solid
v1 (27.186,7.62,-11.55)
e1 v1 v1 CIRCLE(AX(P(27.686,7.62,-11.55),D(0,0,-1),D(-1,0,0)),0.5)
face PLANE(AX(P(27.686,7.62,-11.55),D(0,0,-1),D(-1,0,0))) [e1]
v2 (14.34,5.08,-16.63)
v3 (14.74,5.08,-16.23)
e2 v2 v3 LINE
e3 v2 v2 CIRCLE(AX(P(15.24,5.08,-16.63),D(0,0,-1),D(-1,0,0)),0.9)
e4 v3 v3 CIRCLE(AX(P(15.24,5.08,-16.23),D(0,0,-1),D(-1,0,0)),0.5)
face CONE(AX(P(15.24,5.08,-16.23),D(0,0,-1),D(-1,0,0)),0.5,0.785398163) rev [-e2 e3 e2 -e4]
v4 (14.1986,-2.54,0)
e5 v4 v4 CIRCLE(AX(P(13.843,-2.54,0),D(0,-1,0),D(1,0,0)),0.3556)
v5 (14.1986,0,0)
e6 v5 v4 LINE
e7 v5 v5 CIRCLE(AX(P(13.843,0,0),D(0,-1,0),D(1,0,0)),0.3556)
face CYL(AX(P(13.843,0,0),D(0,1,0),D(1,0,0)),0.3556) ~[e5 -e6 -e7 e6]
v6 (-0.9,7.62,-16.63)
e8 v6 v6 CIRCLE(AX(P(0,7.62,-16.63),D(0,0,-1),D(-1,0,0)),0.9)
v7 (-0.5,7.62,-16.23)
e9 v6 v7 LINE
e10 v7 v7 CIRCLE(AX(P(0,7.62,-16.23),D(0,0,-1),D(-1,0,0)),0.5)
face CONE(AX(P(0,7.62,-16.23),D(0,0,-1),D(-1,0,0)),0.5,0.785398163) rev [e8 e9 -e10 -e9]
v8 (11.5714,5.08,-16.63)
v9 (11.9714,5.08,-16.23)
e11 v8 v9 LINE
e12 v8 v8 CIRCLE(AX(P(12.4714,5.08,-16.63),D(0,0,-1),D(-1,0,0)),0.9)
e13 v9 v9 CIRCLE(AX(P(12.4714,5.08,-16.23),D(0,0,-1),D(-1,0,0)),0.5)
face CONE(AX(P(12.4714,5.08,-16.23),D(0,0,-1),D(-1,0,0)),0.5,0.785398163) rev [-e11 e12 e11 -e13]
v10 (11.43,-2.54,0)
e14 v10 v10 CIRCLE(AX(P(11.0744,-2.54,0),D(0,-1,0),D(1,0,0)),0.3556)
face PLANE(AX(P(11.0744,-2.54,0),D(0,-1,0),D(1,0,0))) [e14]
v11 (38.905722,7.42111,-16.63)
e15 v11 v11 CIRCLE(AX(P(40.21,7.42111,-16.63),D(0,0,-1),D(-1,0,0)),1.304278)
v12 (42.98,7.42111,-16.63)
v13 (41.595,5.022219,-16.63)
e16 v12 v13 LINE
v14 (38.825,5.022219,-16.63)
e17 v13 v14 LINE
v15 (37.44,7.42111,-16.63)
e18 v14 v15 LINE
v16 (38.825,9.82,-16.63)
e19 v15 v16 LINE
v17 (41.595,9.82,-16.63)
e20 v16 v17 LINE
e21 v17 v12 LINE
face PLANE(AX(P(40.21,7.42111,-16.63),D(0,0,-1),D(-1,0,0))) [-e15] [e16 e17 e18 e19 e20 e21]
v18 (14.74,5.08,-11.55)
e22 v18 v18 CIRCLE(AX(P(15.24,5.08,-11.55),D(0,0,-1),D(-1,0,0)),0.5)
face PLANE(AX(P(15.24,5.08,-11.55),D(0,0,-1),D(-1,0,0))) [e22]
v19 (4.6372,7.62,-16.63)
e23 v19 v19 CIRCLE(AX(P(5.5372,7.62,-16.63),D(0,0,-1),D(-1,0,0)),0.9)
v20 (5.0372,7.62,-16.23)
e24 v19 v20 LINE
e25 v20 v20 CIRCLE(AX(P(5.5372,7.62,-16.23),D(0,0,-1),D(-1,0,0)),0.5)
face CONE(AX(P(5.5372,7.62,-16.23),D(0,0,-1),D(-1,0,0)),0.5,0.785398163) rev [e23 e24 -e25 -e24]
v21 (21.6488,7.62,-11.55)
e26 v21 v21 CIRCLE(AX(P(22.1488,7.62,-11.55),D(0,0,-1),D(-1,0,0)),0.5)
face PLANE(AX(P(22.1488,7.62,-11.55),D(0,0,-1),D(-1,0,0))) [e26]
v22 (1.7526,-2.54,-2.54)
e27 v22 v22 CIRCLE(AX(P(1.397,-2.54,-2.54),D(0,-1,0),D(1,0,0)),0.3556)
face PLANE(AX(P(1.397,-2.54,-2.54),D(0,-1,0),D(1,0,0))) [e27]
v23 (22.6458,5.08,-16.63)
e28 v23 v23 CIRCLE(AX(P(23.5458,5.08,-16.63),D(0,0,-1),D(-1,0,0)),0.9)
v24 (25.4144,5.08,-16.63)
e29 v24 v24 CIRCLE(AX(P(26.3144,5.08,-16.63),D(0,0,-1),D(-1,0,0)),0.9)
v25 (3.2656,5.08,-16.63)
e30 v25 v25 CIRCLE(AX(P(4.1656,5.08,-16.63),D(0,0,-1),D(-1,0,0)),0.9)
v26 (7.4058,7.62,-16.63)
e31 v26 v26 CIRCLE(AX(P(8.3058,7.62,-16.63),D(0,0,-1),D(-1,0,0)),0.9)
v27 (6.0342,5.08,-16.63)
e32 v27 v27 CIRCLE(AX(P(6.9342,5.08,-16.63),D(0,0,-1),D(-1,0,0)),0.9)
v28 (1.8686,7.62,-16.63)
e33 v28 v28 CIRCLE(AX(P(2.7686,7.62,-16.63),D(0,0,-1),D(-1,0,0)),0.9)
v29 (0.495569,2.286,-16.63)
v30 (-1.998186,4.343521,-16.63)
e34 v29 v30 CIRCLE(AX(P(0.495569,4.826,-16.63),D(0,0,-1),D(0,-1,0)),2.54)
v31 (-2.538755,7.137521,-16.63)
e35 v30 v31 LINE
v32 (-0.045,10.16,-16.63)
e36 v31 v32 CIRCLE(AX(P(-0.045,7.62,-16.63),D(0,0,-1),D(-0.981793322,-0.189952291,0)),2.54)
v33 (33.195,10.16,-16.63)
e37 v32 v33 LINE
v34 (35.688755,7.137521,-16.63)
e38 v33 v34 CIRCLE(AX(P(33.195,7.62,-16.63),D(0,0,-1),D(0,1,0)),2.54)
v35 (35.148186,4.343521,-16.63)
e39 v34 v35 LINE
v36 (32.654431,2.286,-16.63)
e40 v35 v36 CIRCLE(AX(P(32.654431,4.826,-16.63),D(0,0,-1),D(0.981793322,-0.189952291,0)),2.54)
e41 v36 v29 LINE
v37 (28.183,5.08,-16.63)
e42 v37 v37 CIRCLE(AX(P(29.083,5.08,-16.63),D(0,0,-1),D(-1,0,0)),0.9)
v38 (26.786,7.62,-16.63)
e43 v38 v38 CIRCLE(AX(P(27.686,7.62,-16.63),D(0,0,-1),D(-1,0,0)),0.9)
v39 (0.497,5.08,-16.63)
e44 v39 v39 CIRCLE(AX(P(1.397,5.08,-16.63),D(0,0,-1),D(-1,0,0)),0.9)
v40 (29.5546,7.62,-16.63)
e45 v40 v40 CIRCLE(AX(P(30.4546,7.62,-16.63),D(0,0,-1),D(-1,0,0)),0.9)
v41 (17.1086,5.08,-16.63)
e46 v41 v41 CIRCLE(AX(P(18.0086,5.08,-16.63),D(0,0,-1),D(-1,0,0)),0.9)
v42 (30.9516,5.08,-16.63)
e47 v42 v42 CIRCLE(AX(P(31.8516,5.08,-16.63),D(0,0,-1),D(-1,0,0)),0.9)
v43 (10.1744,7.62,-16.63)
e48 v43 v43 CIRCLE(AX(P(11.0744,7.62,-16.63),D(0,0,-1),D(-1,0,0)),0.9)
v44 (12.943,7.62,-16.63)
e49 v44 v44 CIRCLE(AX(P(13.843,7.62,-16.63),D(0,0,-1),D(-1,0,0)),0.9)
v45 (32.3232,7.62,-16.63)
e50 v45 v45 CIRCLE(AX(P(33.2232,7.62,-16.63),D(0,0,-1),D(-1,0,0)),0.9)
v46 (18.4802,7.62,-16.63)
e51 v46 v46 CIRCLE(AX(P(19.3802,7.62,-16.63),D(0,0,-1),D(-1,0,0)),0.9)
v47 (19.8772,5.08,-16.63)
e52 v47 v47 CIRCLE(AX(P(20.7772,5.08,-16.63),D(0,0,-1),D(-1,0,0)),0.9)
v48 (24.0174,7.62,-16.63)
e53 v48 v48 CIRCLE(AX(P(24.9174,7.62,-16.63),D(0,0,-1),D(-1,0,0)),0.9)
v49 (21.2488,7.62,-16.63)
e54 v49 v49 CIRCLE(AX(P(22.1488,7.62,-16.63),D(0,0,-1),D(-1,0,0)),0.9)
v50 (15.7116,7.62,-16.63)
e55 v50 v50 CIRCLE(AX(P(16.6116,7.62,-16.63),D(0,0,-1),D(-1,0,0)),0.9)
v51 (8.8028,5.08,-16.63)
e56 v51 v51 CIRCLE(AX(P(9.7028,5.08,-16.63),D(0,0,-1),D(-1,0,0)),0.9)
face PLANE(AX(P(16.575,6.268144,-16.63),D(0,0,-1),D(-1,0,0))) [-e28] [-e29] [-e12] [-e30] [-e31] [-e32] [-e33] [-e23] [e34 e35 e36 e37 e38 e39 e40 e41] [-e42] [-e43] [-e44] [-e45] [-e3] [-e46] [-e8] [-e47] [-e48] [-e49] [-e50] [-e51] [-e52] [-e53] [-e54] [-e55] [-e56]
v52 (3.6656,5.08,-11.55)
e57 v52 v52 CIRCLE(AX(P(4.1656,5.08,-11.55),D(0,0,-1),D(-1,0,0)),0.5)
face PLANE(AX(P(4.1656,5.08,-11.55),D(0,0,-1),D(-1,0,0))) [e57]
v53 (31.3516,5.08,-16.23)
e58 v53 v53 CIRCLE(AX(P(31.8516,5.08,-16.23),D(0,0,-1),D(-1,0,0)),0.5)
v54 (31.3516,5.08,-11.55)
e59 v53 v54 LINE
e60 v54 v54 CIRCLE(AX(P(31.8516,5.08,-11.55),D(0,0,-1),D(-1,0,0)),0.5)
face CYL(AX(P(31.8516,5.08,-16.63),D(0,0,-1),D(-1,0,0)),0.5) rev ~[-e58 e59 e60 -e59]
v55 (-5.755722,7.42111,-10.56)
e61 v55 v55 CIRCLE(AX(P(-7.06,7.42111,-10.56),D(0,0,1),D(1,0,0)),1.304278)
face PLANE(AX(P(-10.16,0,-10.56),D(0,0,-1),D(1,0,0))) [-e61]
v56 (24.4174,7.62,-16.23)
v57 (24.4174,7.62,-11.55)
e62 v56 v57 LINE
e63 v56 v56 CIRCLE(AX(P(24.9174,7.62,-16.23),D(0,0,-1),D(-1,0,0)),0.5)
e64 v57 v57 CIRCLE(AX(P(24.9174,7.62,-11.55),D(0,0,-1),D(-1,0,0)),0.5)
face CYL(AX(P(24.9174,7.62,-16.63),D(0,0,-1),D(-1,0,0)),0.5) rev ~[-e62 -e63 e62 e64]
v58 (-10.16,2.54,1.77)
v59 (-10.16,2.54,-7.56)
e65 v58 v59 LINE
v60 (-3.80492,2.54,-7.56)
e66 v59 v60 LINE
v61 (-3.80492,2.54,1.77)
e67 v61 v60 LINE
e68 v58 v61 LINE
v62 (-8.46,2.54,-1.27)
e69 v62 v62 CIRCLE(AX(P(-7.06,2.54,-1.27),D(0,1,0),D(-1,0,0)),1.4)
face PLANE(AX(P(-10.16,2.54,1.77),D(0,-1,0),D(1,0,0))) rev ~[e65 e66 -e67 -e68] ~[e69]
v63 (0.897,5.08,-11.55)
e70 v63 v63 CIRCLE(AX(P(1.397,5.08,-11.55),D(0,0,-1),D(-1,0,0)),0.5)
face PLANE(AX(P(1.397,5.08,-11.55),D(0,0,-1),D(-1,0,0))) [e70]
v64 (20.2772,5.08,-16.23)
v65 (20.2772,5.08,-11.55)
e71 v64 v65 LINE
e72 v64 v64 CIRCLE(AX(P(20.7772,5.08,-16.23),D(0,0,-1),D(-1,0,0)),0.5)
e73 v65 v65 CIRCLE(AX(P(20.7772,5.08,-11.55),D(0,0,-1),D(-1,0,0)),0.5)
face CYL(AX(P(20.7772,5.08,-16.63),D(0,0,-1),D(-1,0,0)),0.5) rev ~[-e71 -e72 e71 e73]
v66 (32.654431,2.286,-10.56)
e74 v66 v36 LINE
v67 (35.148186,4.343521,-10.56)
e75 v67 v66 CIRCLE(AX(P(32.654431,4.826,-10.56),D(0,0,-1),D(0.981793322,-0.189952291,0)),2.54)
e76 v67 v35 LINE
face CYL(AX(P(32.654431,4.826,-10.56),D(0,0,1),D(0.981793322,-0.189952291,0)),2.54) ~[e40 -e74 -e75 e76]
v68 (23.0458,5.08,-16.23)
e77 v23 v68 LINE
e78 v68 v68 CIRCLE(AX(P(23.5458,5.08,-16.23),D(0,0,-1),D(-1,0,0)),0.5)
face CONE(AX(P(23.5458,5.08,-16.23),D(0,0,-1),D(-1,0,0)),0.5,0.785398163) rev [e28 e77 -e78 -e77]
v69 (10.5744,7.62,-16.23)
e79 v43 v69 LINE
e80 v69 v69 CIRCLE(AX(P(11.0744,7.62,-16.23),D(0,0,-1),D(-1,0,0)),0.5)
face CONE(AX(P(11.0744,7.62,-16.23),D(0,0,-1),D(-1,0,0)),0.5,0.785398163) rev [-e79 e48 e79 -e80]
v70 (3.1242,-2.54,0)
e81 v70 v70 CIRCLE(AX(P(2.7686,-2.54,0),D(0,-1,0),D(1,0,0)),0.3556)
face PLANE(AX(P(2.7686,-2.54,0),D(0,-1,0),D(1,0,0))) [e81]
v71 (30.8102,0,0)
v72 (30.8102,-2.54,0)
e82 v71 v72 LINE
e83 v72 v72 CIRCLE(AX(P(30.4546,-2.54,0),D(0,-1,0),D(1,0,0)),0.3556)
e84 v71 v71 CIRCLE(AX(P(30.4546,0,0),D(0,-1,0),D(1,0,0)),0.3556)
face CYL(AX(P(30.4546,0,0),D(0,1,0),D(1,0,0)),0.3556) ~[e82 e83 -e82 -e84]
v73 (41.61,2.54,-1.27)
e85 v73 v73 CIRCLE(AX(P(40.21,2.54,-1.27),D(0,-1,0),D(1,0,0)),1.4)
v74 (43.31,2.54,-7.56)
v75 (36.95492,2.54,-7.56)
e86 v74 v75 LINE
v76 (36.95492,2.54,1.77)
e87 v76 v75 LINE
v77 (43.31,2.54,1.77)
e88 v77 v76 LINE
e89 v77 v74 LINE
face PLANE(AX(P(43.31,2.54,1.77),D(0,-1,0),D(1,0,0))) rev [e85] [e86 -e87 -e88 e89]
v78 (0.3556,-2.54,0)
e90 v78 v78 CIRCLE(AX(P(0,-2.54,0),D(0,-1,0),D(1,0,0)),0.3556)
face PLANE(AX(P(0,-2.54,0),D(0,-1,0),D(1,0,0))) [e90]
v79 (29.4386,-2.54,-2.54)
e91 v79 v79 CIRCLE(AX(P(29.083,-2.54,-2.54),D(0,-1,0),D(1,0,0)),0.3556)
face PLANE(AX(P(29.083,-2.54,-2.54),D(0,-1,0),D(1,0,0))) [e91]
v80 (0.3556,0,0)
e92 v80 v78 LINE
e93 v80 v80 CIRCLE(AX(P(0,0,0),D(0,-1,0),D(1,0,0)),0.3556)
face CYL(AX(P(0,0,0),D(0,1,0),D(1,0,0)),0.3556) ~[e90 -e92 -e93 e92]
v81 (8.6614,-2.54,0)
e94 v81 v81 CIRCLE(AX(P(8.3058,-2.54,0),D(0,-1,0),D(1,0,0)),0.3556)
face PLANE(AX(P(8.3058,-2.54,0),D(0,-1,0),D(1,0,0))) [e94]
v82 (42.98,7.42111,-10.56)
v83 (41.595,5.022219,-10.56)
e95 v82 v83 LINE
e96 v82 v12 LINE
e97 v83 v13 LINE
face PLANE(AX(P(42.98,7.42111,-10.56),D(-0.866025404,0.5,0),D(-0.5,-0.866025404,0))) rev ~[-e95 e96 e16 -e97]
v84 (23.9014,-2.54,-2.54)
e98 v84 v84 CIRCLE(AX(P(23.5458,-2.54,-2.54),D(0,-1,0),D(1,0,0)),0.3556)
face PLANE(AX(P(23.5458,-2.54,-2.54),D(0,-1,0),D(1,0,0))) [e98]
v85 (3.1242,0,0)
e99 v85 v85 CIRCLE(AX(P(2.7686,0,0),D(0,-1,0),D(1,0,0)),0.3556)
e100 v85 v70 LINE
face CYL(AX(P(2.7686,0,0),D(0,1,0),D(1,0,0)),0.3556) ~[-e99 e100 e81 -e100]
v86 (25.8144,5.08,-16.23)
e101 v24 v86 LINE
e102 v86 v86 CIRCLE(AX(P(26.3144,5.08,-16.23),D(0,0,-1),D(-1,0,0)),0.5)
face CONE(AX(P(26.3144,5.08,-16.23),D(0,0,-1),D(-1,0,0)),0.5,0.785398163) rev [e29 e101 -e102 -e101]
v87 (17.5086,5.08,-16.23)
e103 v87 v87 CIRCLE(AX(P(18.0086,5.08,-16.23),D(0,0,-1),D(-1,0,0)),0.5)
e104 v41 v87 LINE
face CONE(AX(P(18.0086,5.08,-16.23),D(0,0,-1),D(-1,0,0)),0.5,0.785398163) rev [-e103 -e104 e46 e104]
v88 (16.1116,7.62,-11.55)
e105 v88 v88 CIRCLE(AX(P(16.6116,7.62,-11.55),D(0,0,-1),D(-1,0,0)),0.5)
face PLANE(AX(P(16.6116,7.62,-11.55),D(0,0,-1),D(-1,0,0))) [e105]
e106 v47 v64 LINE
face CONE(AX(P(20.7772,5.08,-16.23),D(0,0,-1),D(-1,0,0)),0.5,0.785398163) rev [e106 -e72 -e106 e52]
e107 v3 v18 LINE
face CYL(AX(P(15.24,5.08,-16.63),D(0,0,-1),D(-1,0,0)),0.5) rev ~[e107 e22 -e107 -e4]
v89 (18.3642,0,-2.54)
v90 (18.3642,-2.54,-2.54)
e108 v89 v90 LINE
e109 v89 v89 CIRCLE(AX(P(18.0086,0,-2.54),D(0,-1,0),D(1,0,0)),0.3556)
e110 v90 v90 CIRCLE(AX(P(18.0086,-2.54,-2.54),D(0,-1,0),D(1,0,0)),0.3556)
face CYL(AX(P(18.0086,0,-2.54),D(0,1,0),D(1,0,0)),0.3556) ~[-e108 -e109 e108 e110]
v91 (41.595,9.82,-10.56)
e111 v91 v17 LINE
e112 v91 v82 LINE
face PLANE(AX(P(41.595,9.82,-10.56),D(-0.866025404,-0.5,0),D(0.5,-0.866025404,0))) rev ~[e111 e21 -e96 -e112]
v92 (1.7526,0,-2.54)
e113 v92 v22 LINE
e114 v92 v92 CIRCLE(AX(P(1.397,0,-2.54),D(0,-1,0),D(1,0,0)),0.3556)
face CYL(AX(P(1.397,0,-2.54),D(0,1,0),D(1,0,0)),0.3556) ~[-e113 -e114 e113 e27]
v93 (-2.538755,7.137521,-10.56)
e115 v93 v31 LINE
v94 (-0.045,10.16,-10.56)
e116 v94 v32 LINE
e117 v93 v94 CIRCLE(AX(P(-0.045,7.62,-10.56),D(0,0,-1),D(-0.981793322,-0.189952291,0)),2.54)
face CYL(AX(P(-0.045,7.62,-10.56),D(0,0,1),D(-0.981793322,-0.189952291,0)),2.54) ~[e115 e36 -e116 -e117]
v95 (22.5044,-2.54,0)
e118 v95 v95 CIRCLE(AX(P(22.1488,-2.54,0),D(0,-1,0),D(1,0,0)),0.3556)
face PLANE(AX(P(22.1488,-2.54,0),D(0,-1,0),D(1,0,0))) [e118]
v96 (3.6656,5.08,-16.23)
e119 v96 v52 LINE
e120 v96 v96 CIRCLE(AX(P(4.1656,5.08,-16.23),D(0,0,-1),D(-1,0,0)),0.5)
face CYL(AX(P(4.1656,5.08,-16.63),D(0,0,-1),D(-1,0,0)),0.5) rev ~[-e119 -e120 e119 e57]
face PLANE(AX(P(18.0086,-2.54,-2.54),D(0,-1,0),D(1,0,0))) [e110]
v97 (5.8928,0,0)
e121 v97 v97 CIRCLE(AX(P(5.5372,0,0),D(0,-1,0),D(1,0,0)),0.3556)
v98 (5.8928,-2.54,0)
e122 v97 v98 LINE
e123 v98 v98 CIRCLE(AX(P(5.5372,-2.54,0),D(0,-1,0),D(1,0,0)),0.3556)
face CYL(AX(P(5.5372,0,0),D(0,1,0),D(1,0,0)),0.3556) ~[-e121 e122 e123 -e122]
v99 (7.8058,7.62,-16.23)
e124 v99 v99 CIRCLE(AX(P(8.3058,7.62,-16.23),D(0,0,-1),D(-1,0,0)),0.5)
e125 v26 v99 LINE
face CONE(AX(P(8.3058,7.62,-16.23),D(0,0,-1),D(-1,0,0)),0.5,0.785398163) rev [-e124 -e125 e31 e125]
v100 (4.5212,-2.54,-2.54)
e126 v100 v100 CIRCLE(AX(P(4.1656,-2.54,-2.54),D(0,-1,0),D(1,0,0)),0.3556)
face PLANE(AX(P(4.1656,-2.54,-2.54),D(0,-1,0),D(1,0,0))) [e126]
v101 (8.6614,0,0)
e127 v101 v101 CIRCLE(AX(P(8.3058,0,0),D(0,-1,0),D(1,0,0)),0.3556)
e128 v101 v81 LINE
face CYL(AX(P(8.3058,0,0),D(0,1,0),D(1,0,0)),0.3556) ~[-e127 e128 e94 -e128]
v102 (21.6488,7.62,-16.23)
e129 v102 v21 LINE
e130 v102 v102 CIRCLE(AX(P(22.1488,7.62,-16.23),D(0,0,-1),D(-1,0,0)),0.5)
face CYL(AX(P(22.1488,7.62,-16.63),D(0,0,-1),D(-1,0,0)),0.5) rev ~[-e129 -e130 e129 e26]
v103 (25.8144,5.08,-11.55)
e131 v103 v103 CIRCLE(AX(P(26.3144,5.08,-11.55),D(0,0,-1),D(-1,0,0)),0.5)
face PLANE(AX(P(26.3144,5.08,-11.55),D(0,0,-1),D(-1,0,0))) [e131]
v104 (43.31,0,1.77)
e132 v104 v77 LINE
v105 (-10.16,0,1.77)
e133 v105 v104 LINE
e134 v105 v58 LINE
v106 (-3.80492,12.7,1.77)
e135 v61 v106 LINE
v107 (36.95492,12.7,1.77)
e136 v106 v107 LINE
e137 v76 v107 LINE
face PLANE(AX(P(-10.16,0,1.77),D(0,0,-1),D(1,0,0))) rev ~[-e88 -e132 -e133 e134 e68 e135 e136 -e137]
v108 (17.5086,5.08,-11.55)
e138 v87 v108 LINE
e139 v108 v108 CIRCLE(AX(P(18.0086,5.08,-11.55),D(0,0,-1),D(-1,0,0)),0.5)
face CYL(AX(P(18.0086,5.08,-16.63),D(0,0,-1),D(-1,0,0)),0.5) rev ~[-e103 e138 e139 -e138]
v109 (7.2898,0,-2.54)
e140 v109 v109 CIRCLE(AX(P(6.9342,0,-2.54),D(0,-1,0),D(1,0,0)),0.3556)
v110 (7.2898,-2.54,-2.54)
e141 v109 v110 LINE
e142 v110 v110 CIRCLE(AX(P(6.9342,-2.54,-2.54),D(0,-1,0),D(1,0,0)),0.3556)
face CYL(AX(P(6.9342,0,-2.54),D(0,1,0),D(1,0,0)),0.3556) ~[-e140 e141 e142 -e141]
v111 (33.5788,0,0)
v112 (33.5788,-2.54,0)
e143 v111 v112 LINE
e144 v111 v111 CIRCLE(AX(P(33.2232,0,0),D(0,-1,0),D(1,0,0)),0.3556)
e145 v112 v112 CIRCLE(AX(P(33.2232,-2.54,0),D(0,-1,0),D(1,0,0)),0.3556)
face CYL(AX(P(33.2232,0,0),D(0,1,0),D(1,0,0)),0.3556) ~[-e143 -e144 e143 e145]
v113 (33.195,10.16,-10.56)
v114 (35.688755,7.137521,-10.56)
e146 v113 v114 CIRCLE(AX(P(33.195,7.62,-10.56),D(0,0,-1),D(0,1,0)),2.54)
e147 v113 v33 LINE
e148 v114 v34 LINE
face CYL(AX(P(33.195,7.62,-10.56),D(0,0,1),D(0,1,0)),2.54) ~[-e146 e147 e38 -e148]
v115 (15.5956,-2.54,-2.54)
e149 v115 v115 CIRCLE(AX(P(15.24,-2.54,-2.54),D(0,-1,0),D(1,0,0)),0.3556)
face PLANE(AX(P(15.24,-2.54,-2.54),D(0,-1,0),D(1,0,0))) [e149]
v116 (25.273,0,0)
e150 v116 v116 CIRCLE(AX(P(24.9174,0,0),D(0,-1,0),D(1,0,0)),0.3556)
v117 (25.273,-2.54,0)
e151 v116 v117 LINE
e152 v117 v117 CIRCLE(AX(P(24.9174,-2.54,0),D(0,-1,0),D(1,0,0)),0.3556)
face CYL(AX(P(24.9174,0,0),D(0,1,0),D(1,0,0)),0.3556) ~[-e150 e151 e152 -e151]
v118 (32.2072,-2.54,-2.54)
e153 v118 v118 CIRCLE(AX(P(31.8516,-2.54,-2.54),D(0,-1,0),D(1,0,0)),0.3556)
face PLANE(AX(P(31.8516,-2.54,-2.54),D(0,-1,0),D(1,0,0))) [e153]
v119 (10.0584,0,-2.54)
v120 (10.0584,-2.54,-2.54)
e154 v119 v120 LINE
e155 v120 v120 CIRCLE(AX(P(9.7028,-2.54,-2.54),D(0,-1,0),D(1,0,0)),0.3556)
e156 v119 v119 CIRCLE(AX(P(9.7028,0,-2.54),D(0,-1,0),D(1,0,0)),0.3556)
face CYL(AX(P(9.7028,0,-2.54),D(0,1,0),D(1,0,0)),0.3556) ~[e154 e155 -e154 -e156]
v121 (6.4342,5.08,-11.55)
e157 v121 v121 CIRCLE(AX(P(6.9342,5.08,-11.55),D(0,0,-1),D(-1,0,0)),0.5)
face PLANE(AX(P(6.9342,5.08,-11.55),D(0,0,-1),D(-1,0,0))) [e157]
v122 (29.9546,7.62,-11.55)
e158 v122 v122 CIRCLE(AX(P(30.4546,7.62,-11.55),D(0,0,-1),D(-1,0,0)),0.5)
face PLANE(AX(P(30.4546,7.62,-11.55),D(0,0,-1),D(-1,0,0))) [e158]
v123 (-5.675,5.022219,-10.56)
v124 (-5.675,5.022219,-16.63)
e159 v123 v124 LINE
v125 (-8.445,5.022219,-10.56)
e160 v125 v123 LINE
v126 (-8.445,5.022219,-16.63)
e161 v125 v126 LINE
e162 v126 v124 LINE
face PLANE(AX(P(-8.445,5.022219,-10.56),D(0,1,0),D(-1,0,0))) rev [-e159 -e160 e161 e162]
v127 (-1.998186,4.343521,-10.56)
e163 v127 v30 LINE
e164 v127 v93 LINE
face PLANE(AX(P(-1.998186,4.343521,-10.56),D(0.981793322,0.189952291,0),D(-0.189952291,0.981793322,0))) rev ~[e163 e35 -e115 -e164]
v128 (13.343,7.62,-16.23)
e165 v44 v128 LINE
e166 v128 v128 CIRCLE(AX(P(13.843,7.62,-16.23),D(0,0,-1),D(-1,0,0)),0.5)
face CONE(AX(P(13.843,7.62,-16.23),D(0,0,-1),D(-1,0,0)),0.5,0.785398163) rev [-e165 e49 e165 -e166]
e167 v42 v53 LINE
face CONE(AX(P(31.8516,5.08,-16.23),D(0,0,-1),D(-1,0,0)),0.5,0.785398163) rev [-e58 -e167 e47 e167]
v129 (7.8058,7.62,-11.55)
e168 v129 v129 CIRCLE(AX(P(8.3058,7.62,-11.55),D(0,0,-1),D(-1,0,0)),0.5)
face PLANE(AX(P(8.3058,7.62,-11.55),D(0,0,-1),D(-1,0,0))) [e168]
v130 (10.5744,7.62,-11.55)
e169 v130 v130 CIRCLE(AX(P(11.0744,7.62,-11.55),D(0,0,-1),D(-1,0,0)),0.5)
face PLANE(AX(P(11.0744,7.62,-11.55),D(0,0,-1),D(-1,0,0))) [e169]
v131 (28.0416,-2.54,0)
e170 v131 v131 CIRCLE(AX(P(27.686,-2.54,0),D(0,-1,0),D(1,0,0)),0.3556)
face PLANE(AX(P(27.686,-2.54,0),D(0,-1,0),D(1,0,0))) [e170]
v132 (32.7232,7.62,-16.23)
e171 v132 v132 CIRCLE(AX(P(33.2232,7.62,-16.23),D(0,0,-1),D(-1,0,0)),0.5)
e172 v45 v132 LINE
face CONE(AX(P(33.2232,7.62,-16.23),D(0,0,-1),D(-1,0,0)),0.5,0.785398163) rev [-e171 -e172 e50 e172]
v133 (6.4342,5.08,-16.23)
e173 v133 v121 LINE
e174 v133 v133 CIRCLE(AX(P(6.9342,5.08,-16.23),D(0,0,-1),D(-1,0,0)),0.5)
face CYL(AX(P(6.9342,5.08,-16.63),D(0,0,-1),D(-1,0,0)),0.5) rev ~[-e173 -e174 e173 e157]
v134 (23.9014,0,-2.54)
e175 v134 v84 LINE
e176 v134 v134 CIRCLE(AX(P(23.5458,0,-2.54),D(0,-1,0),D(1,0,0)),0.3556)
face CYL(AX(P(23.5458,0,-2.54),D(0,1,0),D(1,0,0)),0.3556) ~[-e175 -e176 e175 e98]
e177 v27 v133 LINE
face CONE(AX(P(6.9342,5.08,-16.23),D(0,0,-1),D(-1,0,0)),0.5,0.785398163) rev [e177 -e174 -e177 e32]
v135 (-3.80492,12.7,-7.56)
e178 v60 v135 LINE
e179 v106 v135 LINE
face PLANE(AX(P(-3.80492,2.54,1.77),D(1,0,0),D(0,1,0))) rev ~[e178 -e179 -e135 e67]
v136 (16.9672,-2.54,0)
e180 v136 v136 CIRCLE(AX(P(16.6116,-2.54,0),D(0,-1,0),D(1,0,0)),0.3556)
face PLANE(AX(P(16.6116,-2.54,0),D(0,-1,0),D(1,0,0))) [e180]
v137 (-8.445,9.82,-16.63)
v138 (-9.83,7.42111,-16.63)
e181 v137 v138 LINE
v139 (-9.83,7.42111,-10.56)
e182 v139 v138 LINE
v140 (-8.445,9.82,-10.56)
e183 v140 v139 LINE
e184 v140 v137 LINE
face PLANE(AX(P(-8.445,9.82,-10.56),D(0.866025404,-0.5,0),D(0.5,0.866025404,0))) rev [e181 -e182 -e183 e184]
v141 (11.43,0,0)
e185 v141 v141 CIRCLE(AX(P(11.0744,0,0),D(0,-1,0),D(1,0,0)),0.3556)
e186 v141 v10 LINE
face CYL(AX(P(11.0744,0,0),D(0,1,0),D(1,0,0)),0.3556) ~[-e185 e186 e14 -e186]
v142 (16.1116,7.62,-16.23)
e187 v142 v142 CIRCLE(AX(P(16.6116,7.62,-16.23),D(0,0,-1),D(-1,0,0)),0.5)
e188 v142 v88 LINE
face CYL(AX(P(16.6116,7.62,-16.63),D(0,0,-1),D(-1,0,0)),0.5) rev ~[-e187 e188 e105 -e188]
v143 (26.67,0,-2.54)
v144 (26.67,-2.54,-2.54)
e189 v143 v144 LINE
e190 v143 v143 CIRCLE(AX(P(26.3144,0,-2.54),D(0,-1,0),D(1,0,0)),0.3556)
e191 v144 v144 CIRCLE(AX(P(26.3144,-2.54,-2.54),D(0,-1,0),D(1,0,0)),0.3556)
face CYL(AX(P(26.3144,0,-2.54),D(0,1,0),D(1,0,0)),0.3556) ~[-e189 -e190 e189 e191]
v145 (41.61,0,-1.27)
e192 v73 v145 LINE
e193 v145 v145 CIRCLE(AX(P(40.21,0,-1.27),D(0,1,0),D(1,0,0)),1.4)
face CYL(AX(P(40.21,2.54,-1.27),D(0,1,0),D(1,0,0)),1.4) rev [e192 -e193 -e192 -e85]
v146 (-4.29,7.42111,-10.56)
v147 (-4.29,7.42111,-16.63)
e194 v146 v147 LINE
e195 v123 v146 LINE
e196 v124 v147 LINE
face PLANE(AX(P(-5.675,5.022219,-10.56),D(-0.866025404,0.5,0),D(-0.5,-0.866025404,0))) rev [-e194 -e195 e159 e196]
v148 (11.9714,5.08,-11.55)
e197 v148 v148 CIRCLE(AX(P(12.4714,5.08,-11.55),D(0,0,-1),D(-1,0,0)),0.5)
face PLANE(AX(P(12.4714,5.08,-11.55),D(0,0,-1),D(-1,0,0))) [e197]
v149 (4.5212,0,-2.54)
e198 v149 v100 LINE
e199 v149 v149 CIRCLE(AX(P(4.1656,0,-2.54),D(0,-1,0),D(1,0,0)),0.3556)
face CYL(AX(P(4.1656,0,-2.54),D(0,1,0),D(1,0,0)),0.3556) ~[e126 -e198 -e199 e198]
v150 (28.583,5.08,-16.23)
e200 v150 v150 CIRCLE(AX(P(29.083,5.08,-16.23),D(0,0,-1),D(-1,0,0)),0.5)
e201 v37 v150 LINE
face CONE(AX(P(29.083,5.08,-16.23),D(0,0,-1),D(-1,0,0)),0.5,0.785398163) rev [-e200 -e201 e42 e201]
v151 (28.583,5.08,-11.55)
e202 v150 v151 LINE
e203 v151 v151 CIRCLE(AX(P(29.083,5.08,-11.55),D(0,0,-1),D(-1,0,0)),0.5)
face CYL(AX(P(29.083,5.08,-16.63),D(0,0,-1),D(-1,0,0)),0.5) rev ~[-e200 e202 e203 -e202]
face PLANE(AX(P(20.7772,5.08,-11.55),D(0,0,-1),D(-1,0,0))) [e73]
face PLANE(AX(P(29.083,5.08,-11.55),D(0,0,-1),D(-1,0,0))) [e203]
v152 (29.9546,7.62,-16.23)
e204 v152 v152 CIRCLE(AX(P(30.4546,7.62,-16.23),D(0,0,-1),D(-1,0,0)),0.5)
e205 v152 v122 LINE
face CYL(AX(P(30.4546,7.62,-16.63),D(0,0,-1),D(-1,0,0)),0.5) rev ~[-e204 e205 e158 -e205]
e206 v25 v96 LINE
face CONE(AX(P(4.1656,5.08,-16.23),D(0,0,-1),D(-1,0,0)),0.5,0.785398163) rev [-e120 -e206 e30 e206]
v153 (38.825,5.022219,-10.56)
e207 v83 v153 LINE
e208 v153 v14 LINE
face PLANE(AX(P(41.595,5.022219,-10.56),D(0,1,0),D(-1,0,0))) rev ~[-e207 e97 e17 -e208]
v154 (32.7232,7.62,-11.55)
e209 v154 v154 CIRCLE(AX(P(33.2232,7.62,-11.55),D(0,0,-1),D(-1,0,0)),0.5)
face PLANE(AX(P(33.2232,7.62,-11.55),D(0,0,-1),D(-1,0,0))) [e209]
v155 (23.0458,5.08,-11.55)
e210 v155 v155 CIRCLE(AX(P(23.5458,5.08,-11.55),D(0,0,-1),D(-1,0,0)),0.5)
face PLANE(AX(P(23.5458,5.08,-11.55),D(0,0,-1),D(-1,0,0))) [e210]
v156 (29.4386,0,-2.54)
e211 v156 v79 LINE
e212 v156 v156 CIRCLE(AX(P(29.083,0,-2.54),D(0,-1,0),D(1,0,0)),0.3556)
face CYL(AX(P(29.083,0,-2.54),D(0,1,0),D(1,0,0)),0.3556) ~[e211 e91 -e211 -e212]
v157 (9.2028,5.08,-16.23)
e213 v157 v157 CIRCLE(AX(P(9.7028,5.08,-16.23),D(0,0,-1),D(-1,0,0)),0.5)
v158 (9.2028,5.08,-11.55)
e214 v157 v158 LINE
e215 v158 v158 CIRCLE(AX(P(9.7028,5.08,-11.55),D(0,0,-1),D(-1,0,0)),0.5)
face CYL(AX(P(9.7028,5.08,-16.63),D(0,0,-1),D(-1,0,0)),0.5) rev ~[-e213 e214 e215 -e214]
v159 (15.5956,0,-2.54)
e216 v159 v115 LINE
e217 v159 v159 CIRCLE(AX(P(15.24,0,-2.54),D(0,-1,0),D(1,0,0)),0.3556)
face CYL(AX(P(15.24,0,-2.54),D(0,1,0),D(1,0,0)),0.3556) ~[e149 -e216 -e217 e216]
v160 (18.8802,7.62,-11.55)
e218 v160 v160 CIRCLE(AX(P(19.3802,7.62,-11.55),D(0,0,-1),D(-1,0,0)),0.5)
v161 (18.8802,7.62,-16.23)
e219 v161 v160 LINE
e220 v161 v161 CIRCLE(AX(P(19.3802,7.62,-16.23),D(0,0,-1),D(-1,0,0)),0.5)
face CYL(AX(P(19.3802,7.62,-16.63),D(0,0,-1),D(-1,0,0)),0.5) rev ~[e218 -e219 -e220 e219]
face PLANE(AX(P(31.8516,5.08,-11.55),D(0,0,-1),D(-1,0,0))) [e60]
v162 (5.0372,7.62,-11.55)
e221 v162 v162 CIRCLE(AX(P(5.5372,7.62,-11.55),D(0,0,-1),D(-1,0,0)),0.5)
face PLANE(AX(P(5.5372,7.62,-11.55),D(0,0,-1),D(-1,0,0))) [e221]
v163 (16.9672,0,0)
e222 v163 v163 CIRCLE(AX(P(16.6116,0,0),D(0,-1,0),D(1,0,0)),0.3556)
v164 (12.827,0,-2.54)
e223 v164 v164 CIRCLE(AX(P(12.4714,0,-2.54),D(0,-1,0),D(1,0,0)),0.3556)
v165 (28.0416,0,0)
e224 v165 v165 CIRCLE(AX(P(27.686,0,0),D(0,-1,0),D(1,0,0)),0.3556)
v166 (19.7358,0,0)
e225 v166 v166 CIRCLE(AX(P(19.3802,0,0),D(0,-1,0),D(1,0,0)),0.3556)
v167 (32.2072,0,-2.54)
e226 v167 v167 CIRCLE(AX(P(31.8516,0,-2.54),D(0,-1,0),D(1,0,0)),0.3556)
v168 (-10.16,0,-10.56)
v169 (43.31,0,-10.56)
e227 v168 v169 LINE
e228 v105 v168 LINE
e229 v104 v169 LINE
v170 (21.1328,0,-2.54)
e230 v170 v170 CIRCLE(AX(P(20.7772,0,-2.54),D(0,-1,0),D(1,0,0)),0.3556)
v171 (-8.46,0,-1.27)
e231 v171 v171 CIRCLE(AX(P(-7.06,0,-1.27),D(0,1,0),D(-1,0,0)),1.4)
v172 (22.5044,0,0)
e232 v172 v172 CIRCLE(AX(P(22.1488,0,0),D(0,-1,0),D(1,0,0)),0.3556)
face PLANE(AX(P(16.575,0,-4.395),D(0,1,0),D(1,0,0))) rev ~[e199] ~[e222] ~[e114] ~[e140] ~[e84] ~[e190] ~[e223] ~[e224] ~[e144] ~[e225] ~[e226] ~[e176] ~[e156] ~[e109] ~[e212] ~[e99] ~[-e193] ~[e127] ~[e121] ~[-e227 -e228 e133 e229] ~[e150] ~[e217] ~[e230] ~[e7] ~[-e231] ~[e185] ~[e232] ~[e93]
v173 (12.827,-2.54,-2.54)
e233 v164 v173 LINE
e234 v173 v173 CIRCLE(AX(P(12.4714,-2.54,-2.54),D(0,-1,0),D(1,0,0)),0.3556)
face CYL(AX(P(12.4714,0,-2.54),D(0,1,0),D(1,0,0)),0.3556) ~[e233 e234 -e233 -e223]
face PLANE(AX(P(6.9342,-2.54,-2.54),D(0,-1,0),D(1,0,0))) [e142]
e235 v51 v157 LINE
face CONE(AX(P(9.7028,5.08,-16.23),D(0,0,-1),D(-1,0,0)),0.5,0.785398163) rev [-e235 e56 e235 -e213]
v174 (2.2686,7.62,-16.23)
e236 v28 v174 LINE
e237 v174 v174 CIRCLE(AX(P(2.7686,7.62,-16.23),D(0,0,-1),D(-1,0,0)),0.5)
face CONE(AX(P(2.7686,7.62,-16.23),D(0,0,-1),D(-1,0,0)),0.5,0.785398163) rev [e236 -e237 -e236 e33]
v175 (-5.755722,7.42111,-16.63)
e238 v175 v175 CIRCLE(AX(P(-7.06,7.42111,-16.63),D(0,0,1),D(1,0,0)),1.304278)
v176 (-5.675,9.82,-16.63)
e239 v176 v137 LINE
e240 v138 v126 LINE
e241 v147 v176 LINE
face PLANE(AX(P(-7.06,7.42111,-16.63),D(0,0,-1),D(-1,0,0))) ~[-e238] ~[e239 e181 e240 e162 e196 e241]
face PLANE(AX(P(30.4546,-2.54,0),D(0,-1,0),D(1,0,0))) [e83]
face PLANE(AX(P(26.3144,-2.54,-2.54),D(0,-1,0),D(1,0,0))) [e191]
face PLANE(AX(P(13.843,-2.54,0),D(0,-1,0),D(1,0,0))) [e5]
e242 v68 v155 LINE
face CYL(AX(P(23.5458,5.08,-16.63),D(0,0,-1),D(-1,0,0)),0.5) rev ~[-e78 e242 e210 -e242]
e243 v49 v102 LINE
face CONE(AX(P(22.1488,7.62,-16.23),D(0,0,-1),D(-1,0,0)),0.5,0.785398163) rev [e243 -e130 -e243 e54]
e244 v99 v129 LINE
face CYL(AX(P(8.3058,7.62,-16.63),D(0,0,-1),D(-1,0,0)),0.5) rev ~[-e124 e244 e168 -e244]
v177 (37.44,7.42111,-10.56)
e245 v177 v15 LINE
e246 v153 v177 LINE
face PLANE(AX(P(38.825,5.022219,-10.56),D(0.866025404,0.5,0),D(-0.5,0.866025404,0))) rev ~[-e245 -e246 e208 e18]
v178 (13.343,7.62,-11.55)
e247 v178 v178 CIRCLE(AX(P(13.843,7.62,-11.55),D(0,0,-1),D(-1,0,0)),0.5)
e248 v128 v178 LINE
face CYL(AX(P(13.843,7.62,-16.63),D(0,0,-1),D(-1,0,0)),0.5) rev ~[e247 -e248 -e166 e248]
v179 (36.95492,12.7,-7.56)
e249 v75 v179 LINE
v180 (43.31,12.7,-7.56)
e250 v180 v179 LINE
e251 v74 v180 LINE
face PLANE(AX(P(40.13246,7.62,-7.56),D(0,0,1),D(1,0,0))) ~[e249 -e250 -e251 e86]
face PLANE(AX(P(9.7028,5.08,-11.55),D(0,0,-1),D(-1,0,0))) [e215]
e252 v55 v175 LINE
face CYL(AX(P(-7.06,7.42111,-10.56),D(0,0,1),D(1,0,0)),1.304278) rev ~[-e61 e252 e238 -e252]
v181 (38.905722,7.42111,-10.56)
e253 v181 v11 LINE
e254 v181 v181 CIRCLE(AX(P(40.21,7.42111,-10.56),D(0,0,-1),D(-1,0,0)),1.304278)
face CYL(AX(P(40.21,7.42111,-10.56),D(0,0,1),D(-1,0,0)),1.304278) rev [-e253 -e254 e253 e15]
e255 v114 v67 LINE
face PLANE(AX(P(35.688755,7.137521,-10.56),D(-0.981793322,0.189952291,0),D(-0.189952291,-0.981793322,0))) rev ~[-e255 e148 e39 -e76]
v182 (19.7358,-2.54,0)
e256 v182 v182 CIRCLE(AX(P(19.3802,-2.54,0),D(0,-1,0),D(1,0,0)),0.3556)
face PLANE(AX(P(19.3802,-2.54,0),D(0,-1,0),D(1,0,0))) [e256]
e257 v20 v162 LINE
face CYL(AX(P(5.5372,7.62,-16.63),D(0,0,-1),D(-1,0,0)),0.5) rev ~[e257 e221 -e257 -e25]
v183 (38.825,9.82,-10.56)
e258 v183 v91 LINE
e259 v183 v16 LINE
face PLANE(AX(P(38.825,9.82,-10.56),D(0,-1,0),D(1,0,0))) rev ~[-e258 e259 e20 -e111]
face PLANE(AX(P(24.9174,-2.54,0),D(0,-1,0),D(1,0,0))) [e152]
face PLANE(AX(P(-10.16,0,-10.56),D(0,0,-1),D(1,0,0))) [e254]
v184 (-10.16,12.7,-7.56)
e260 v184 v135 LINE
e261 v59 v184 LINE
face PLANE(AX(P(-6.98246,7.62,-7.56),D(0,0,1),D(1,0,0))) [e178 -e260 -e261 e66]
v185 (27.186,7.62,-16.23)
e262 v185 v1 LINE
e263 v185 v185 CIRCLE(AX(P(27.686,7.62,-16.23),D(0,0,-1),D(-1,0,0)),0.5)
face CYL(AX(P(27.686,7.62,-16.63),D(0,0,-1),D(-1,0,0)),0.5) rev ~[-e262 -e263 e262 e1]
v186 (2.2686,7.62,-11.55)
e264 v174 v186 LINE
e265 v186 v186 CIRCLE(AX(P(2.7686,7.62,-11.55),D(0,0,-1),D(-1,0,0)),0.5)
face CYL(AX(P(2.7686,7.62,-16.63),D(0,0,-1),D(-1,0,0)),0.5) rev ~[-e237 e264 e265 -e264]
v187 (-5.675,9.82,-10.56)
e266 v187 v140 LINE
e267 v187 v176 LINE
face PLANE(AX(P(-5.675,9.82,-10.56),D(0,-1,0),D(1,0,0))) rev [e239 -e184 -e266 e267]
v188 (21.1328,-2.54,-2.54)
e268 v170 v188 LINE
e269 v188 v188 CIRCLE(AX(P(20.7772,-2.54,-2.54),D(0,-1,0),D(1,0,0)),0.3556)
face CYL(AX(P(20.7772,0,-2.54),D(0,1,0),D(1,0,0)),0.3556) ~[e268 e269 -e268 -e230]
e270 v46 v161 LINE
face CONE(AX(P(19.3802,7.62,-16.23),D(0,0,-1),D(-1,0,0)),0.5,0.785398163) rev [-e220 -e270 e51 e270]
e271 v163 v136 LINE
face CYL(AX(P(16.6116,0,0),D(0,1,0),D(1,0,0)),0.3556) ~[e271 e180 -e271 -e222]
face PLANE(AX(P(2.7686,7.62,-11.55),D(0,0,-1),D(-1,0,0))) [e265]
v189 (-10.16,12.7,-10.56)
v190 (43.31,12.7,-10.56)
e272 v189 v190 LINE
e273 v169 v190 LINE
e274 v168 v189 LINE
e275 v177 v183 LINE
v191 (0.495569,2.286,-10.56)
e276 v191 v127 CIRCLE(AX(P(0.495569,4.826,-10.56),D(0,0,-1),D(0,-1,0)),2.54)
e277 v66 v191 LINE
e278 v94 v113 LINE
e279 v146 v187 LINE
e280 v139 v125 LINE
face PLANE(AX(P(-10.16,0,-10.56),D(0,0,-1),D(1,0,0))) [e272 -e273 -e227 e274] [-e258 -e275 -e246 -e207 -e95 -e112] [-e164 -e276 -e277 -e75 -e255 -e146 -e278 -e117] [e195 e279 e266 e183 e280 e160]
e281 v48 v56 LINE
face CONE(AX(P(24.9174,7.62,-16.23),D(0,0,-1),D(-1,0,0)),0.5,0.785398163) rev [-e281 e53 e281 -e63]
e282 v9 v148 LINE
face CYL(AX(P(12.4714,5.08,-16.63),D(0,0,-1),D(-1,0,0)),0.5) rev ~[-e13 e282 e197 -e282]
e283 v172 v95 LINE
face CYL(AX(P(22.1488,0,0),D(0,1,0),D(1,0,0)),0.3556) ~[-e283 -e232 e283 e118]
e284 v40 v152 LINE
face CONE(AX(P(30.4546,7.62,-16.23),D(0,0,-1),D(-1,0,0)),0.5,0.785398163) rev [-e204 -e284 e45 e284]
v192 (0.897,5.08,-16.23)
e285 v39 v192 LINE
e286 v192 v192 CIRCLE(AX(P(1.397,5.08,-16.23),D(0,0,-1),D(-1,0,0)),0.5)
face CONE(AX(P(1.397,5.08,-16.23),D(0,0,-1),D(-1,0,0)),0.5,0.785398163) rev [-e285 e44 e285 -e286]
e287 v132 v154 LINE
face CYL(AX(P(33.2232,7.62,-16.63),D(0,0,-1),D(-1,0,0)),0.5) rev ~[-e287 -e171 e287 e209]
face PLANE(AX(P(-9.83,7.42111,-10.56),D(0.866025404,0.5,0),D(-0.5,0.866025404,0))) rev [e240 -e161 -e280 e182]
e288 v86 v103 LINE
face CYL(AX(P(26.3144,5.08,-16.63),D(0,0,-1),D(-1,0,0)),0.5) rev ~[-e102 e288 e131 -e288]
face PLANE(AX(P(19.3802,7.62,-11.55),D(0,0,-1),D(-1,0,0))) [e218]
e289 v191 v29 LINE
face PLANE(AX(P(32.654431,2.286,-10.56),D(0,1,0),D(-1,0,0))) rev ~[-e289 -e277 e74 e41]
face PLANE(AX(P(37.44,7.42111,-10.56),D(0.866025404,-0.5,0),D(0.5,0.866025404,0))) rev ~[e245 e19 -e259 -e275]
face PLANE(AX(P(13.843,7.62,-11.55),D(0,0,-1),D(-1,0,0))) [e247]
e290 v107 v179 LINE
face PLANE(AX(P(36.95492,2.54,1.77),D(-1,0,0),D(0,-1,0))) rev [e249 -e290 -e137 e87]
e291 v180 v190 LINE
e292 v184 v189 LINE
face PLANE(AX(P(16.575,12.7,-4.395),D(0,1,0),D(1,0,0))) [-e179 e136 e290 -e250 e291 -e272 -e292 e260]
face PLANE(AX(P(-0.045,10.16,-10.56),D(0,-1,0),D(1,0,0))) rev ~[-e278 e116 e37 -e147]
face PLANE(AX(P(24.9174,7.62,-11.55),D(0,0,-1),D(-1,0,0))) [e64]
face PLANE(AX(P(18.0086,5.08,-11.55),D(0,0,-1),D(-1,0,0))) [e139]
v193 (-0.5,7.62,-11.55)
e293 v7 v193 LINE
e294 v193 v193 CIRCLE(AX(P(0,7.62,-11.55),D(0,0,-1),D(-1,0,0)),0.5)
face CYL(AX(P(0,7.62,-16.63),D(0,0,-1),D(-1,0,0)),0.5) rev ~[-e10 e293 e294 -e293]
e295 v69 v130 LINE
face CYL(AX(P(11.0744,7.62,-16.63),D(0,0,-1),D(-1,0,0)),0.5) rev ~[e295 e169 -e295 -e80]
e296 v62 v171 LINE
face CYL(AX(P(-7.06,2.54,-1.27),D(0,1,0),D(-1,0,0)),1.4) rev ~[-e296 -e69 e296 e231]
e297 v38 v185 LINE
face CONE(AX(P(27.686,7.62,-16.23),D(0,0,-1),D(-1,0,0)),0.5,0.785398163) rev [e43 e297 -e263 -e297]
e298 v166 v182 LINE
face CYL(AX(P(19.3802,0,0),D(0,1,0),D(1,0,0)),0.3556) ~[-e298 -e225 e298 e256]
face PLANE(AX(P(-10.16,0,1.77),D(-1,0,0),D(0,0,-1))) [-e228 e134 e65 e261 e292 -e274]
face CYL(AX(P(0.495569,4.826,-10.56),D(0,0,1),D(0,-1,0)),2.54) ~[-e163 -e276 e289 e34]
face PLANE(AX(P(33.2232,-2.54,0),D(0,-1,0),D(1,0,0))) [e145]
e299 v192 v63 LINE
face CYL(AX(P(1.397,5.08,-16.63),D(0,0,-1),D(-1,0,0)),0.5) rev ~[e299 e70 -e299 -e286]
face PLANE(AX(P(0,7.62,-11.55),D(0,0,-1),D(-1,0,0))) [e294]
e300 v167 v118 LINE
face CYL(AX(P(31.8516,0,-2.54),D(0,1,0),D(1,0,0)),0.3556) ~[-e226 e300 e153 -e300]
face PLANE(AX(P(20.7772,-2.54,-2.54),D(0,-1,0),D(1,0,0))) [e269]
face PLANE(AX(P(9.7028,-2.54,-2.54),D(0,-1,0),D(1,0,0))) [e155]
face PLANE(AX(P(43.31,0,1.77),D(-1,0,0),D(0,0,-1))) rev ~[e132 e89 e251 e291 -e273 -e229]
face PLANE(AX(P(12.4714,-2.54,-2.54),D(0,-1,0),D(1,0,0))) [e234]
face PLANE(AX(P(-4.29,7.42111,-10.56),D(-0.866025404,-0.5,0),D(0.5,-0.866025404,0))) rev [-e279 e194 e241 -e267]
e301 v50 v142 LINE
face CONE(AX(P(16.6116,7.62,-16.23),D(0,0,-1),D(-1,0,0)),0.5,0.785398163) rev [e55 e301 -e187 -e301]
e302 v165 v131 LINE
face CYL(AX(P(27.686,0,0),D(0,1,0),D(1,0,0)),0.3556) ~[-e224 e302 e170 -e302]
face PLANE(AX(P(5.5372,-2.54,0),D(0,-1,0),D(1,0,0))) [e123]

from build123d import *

# Parameters (mm, degrees)
SKETCH1_W           = 53.47
SKETCH1_H           = 12.33
BASE_EXTRUDE_DEPTH  = 12.7
BOSS_EXTRUDE1_DEPTH = 6.07
SKETCH4_R           = 0.5
CUT_EXTRUDE1_DEPTH  = 5.08
SKETCH5_R           = 0.5
CUT_EXTRUDE2_DEPTH  = 5.08
SKETCH6_R           = 0.3556
BOSS_EXTRUDE2_DEPTH = 2.54
LPATTERN1_COUNT     = 13
LPATTERN1_PITCH     = 2.7686
LPATTERN2_COUNT     = 13
LPATTERN2_PITCH     = 2.7686
LPATTERN3_COUNT     = 12
LPATTERN3_PITCH     = 2.7686
SKETCH7_R           = 0.3556
BOSS_EXTRUDE3_DEPTH = 2.54
LPATTERN4_COUNT     = 12
LPATTERN4_PITCH     = 2.7686
SKETCH12_R          = 1.304277921
BOSS_EXTRUDE4_DEPTH = 6.07
SKETCH9_W           = 6.35508
SKETCH9_H           = 10.16
CUT_EXTRUDE3_DEPTH  = 9.33
SKETCH11_R          = 1.4
CUT_EXTRUDE4_DEPTH  = 6.08
CHAMFER1_SIZE       = 0.4


with BuildPart() as part:
    # Sketch1 → Base-Extrude (new body)
    with BuildSketch(Plane(origin=(0, 0, 0), x_dir=(1, 0, 0), z_dir=(0, 1, 0))):
        with Locations((16.575, 4.395)):
            Rectangle(SKETCH1_W, SKETCH1_H)
    extrude(amount=BASE_EXTRUDE_DEPTH)

    # Sketch2 → Boss-Extrude1 (add)
    with BuildSketch(Plane(origin=(0, 0, -10.56), x_dir=(-1, 0, 0), z_dir=(0, 0, -1))):
        with BuildLine():
            Line((-32.654431338, 2.286), (-0.495568662, 2.286))
            ThreePointArc((-0.495568662, 2.286), (1.120925043, 2.8667787), (1.998186376, 4.34352118))
            Line((1.998186376, 4.34352118), (2.538755038, 7.13752118))
            ThreePointArc((2.538755038, 7.13752118), (2.0042213, 9.236493705), (0.045, 10.16))
            Line((0.045, 10.16), (-33.195, 10.16))
            ThreePointArc((-33.195, 10.16), (-35.1542213, 9.236493705), (-35.688755038, 7.13752118))
            Line((-35.688755038, 7.13752118), (-35.148186376, 4.34352118))
            ThreePointArc((-35.148186376, 4.34352118), (-34.270925043, 2.8667787), (-32.654431338, 2.286))
        make_face()
    extrude(amount=BOSS_EXTRUDE1_DEPTH)

    # Sketch4 → Cut-Extrude1 (cut)
    with BuildSketch(Plane(origin=(0, 0, -16.63), x_dir=(-1, 0, 0), z_dir=(0, 0, -1))):
        with Locations((0, 7.62)):
            Circle(SKETCH4_R)
    cut_extrude1 = extrude(amount=-CUT_EXTRUDE1_DEPTH, mode=Mode.SUBTRACT)

    # Sketch5 → Cut-Extrude2 (cut)
    with BuildSketch(Plane(origin=(0, 0, -16.63), x_dir=(-1, 0, 0), z_dir=(0, 0, -1))):
        with Locations((-1.397, 5.08)):
            Circle(SKETCH5_R)
    cut_extrude2 = extrude(amount=-CUT_EXTRUDE2_DEPTH, mode=Mode.SUBTRACT)

    # Sketch6 → Boss-Extrude2 (add)
    with BuildSketch(Plane.XZ):
        Circle(SKETCH6_R)
    boss_extrude2 = extrude(amount=BOSS_EXTRUDE2_DEPTH)

    # LPattern1: Boss-Extrude2 ×13
    with Locations(*[(i * LPATTERN1_PITCH, 0, 0) for i in range(1, LPATTERN1_COUNT)]):
        add(boss_extrude2)

    # LPattern2: Cut-Extrude1 ×13
    with Locations(*[(i * LPATTERN2_PITCH, 0, 0) for i in range(1, LPATTERN2_COUNT)]):
        add(cut_extrude1, mode=Mode.SUBTRACT)

    # LPattern3: Cut-Extrude2 ×12
    with Locations(*[(i * LPATTERN3_PITCH, 0, 0) for i in range(1, LPATTERN3_COUNT)]):
        add(cut_extrude2, mode=Mode.SUBTRACT)

    # Sketch7 → Boss-Extrude3 (add)
    with BuildSketch(Plane.XZ):
        with Locations((1.397, -2.54)):
            Circle(SKETCH7_R)
    boss_extrude3 = extrude(amount=BOSS_EXTRUDE3_DEPTH)

    # LPattern4: Boss-Extrude3 ×12
    with Locations(*[(i * LPATTERN4_PITCH, 0, 0) for i in range(1, LPATTERN4_COUNT)]):
        add(boss_extrude3)

    # Sketch12 → Boss-Extrude4 (add)
    with BuildSketch(Plane(origin=(0, 0, -10.56), x_dir=(-1, 0, 0), z_dir=(0, 0, -1))):
        Polygon((-41.595, 9.82), (-42.98, 7.421109632), (-41.595, 5.022219263), (-38.825, 5.022219263), (-37.44, 7.421109632), (-38.825, 9.82), align=None)
        with Locations((-40.21, 7.421109632)):
            Circle(SKETCH12_R, mode=Mode.SUBTRACT)
    boss_extrude4 = extrude(amount=BOSS_EXTRUDE4_DEPTH)

    # Sketch9 → Cut-Extrude3 (cut)
    with BuildSketch(Plane.XY.offset(1.77)):
        with Locations((-6.98246, 7.62)):
            Rectangle(SKETCH9_W, SKETCH9_H)
    cut_extrude3 = extrude(amount=-CUT_EXTRUDE3_DEPTH, mode=Mode.SUBTRACT)

    # Sketch11 → Cut-Extrude4 (cut, through all)
    with BuildSketch(Plane(origin=(0, 2.54, 0), x_dir=(-1, 0, 0), z_dir=(0, 1, 0))):
        with Locations((7.06, -1.27)):
            Circle(SKETCH11_R)
    cut_extrude4 = extrude(amount=-CUT_EXTRUDE4_DEPTH, mode=Mode.SUBTRACT)

    # Mirror1: Boss-Extrude4, Cut-Extrude3, Cut-Extrude4 across plane
    add(boss_extrude4.mirror(Plane(origin=(16.575, 0, 0), x_dir=(0, 0, 1), z_dir=(1, 0, 0))))
    add(cut_extrude3.mirror(Plane(origin=(16.575, 0, 0), x_dir=(0, 0, 1), z_dir=(1, 0, 0))), mode=Mode.SUBTRACT)
    add(cut_extrude4.mirror(Plane(origin=(16.575, 0, 0), x_dir=(0, 0, 1), z_dir=(1, 0, 0))), mode=Mode.SUBTRACT)

    # Chamfer1
    chamfer1_edges = [part.edges().sort_by_distance(p)[0] for p in [
        (19.8802, 7.62, -16.63),
        (22.6488, 7.62, -16.63),
        (25.4174, 7.62, -16.63),
        (28.186, 7.62, -16.63),
        (30.9546, 7.62, -16.63),
        (33.7232, 7.62, -16.63),
        (4.6656, 5.08, -16.63),
        (7.4342, 5.08, -16.63),
        (10.2028, 5.08, -16.63),
        (12.9714, 5.08, -16.63),
        (15.74, 5.08, -16.63),
        (18.5086, 5.08, -16.63),
        (21.2772, 5.08, -16.63),
        (24.0458, 5.08, -16.63),
        (26.8144, 5.08, -16.63),
        (29.583, 5.08, -16.63),
        (32.3516, 5.08, -16.63),
        (0.5, 7.62, -16.63),
        (1.897, 5.08, -16.63),
        (3.2686, 7.62, -16.63),
        (6.0372, 7.62, -16.63),
        (8.8058, 7.62, -16.63),
        (11.5744, 7.62, -16.63),
        (14.343, 7.62, -16.63),
        (17.1116, 7.62, -16.63),
    ]]
    chamfer(chamfer1_edges, length=CHAMFER1_SIZE)


solid = part.part
